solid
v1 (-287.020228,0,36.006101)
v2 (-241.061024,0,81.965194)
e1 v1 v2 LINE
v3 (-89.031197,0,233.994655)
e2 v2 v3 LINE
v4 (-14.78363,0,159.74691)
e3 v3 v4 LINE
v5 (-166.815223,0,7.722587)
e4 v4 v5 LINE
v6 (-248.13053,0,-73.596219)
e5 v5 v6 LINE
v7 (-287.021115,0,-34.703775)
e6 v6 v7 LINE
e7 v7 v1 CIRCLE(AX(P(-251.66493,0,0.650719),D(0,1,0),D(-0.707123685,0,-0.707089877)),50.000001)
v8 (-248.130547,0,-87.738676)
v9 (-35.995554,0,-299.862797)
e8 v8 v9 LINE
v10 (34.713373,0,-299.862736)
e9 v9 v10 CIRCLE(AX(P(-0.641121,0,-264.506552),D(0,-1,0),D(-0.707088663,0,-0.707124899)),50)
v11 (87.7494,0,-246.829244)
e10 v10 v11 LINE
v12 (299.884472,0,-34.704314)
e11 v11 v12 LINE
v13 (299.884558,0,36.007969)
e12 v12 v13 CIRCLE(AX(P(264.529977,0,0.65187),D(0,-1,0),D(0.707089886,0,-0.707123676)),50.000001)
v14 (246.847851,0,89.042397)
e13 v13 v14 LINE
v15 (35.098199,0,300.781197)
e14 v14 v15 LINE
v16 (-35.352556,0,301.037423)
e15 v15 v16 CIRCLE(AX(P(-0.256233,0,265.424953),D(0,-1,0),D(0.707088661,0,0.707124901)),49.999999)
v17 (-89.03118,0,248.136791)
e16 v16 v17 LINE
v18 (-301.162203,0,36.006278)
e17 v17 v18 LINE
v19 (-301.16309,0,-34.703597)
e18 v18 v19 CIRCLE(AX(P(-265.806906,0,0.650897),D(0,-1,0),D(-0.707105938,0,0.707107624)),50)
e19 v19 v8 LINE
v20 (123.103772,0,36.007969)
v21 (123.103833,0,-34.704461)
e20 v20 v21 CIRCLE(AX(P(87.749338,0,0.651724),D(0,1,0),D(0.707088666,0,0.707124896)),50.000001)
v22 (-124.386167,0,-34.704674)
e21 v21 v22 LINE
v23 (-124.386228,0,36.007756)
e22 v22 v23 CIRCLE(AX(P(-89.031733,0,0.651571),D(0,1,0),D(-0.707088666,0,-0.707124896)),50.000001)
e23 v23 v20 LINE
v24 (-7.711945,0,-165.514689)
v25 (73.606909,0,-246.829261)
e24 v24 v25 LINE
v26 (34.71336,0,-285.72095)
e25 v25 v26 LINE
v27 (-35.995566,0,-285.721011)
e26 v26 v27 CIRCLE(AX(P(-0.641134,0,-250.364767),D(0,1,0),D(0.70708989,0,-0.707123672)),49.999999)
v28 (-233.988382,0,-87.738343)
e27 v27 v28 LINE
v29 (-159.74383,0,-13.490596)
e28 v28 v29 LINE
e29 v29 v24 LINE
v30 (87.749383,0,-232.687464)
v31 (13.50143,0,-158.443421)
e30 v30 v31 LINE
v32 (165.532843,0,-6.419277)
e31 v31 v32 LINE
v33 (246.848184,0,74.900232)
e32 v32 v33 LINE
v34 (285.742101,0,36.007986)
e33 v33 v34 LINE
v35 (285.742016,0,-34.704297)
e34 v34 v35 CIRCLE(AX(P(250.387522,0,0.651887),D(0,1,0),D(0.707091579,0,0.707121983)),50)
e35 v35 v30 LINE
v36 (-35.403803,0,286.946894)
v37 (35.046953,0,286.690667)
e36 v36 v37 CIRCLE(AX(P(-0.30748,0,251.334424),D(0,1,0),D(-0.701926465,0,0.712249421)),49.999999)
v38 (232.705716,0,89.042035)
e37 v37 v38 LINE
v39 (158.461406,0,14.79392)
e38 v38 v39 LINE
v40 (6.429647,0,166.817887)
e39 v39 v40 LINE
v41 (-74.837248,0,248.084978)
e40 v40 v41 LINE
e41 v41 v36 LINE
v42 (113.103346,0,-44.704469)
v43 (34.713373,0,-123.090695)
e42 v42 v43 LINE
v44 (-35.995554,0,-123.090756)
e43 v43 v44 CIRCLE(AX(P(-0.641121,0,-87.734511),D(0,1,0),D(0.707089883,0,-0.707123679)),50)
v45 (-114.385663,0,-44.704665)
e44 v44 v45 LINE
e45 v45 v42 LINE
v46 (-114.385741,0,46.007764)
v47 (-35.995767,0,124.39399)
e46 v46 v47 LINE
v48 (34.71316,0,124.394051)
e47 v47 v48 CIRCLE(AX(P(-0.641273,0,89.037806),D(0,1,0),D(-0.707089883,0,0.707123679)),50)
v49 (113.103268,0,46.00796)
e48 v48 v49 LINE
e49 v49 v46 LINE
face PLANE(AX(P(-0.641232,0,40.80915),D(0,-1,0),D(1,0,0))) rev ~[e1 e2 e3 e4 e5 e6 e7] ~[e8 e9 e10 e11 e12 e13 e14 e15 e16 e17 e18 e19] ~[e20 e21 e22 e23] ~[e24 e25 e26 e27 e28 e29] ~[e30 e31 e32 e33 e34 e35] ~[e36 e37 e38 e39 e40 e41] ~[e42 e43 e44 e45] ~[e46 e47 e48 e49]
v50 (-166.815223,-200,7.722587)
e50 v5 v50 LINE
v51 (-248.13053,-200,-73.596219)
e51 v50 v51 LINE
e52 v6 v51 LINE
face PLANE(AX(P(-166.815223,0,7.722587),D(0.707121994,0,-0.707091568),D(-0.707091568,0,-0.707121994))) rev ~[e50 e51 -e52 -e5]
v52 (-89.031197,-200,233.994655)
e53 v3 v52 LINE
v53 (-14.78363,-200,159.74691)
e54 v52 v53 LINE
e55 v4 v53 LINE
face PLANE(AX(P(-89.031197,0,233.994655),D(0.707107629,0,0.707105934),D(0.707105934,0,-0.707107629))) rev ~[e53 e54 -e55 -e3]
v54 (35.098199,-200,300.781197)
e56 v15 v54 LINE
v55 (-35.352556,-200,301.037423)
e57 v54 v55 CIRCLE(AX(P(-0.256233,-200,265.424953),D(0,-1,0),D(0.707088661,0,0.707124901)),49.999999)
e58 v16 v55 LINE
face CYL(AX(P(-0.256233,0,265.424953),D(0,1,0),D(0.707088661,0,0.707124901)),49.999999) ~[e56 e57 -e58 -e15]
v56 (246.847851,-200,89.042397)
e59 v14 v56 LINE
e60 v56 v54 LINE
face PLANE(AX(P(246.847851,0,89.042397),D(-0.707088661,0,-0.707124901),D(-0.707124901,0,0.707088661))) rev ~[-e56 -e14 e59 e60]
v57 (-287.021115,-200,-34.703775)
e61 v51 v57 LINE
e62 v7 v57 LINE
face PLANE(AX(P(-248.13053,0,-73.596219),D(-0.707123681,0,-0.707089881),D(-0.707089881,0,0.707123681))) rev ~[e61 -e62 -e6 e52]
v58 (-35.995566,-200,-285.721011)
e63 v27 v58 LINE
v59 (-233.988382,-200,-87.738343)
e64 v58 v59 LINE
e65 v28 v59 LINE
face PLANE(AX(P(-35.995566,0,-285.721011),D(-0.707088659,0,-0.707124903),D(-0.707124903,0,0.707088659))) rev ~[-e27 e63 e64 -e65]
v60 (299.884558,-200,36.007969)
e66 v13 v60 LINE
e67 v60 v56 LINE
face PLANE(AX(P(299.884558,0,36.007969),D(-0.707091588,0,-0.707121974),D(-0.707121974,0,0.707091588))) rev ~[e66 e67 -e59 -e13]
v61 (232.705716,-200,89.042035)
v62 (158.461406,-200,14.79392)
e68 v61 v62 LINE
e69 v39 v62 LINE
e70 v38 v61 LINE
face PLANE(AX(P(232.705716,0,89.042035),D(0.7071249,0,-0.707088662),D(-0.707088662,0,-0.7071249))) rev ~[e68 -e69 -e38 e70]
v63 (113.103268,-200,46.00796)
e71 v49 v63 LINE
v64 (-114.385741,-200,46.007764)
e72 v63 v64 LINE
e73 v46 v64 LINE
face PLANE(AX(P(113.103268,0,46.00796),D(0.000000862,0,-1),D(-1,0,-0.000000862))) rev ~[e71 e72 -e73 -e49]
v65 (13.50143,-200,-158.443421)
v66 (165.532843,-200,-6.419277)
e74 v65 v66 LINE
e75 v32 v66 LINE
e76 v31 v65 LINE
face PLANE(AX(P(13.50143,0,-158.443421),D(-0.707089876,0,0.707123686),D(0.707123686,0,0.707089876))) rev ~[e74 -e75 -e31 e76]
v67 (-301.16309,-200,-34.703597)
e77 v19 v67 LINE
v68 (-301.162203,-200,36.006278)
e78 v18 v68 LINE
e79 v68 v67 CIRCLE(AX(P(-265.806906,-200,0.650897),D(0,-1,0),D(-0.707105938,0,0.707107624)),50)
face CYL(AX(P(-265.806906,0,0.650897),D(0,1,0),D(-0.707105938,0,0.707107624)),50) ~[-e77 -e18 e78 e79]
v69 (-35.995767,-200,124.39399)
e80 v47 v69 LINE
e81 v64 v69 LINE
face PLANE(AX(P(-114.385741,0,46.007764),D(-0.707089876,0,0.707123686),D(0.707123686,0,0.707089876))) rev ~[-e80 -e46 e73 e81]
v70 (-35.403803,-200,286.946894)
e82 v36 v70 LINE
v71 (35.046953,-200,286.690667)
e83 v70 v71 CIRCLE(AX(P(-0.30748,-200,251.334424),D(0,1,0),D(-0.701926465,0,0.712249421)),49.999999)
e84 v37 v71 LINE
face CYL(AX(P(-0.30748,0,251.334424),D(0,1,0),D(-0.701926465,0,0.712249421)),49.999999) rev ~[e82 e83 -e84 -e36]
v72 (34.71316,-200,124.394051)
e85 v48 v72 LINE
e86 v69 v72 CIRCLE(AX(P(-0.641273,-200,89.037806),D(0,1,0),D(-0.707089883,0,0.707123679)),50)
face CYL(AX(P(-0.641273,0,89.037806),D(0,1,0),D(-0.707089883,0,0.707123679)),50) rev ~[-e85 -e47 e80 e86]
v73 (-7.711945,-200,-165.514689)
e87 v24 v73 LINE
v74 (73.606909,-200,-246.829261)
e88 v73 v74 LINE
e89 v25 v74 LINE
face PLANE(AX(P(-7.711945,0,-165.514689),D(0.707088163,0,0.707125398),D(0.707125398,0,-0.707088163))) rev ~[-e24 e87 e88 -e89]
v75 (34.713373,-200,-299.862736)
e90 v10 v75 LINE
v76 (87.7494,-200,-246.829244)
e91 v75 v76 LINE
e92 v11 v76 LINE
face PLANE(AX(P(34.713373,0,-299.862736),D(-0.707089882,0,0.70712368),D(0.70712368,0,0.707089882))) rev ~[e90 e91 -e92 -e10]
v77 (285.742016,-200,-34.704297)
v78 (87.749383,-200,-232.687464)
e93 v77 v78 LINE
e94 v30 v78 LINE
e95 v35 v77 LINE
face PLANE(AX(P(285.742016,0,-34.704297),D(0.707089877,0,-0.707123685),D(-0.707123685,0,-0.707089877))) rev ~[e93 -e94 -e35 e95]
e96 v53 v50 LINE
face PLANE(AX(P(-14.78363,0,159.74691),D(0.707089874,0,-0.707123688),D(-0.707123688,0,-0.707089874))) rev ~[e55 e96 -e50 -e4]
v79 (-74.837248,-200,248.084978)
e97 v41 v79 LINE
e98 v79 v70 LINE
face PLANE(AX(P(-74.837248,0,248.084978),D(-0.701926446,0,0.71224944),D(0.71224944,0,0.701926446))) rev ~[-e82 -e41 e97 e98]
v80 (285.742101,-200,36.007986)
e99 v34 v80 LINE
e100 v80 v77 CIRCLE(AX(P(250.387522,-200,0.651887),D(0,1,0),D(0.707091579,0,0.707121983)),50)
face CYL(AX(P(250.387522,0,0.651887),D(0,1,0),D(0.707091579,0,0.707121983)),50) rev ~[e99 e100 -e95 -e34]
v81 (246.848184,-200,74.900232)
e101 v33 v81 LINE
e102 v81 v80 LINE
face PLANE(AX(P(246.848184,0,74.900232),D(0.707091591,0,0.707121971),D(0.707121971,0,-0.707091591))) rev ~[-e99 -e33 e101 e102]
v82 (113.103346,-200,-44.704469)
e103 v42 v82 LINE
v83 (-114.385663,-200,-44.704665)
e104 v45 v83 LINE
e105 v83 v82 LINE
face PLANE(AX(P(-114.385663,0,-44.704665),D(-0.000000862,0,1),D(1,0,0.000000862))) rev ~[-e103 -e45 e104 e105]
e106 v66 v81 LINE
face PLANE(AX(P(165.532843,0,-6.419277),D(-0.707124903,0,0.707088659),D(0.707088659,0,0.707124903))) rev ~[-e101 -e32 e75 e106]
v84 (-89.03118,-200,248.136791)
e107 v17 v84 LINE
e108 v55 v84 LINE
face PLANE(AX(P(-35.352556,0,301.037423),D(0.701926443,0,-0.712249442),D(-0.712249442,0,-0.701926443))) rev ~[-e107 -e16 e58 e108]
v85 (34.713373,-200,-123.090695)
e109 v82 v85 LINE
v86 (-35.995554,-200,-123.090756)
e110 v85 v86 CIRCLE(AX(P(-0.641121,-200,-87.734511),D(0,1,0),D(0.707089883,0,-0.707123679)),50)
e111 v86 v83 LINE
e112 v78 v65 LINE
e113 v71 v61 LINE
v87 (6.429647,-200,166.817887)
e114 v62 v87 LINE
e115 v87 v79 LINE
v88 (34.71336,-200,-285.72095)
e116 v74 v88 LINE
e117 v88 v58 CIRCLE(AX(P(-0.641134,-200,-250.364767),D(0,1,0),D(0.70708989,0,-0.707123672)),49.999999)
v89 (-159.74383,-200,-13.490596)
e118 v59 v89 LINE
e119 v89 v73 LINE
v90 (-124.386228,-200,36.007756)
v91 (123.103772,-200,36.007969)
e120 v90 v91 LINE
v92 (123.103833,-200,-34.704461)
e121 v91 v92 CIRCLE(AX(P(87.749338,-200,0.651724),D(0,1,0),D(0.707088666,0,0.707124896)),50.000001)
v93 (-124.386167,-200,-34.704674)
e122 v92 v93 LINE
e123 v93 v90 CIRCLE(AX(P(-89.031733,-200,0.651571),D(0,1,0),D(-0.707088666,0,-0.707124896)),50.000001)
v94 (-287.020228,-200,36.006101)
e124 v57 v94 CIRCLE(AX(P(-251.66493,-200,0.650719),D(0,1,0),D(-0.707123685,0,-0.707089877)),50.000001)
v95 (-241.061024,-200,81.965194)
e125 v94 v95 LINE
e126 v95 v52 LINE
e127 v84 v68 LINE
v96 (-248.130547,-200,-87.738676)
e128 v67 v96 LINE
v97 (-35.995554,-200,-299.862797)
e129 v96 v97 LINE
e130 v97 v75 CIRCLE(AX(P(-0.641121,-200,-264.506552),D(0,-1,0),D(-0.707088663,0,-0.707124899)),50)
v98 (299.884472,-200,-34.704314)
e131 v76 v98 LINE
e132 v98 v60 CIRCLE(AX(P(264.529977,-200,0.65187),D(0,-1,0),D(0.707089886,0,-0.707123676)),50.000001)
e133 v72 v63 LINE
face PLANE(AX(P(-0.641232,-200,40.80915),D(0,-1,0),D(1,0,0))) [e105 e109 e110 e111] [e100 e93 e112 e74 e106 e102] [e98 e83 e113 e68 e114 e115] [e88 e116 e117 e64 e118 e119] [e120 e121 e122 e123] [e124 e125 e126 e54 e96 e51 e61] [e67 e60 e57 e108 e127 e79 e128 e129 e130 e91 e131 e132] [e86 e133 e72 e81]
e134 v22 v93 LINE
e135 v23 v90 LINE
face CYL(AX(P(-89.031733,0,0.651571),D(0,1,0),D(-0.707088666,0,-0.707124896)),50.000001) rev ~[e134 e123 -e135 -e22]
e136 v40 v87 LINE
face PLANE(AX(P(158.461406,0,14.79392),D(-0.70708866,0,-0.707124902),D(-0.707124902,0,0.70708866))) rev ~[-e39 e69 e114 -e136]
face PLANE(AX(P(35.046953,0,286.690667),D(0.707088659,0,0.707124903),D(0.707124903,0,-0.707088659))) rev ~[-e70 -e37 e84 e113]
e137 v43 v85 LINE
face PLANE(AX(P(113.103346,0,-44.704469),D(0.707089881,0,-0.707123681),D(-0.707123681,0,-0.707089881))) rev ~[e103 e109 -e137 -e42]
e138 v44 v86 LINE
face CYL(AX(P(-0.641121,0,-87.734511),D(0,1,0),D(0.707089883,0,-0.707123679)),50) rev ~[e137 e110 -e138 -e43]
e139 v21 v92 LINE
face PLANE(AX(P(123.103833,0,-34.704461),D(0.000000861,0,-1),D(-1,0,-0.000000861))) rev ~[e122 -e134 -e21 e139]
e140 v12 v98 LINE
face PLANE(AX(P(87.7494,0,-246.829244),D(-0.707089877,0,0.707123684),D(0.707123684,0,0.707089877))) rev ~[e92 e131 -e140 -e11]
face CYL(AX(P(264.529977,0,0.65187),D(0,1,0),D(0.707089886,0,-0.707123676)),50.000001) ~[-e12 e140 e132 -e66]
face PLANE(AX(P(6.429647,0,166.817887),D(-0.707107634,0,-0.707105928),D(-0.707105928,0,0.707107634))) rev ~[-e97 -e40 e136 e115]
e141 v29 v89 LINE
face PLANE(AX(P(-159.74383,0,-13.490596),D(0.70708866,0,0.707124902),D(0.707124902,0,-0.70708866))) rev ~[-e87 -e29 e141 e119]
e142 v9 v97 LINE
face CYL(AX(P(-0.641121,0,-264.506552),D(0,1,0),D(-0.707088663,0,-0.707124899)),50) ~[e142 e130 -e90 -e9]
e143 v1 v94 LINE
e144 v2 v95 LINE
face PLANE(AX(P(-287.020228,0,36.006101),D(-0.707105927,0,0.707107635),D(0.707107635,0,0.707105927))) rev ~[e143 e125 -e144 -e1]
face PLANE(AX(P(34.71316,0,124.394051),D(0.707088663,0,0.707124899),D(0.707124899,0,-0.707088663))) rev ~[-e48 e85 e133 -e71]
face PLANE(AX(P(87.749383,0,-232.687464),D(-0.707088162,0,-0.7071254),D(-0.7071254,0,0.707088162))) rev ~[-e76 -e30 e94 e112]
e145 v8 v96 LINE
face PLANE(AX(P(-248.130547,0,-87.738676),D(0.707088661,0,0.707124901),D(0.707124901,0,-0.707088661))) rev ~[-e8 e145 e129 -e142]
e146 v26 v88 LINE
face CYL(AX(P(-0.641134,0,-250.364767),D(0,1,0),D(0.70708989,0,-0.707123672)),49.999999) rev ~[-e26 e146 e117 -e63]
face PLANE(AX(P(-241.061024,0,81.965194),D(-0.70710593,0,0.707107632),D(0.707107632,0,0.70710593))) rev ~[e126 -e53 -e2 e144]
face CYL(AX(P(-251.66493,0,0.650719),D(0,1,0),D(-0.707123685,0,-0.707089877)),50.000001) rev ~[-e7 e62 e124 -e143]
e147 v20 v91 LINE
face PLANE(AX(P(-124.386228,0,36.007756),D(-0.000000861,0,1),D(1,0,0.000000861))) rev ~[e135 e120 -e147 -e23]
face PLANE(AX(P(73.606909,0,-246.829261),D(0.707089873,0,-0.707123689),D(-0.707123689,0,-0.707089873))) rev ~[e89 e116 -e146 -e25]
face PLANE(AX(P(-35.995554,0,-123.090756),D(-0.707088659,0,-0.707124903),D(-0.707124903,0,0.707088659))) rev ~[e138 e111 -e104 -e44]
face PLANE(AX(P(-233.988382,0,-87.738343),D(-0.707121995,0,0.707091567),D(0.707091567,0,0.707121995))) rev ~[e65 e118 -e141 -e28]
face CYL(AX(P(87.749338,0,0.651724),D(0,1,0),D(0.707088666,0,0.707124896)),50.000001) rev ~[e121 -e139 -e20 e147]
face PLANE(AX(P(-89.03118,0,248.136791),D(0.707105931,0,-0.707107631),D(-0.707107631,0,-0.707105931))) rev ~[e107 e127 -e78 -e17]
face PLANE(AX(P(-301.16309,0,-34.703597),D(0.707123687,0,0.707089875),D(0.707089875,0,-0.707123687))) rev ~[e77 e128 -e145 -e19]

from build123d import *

# Parameters (mm, degrees)
F1_DEPTH = 200
F2_DEPTH = 200


with BuildPart() as f1:
    # F0 (on Front) → F1 (new body)
    with BuildSketch(Plane.XZ):
        with BuildLine():
            Line((299.884558, 36.007969), (246.847851, 89.042397))
            Line((246.847851, 89.042397), (35.098199, 300.781197))
            ThreePointArc((35.098199, 300.781197), (-0.074387, 315.424621), (-35.352556, 301.037423))
            Line((-35.352556, 301.037423), (-89.03118, 248.136791))
            Line((-89.03118, 248.136791), (-301.162203, 36.006278))
            ThreePointArc((-301.162203, 36.006278), (-315.806906, 0.651524), (-301.16309, -34.703597))
            Line((-301.16309, -34.703597), (-248.130547, -87.738676))
            Line((-248.130547, -87.738676), (-35.995554, -299.862797))
            ThreePointArc((-35.995554, -299.862797), (-0.641078, -314.506552), (34.713373, -299.862736))
            Line((34.713373, -299.862736), (87.7494, -246.829244))
            Line((87.7494, -246.829244), (299.884472, -34.704314))
            ThreePointArc((299.884472, -34.704314), (314.529978, 0.651809), (299.884558, 36.007969))
        make_face()
        with BuildLine():
            Line((73.606909, -246.829261), (34.71336, -285.72095))
            ThreePointArc((34.71336, -285.72095), (-0.64109, -300.364766), (-35.995566, -285.721011))
            Line((-35.995566, -285.721011), (-233.988382, -87.738343))
            Line((-233.988382, -87.738343), (-159.74383, -13.490596))
            Line((-159.74383, -13.490596), (-7.711945, -165.514689))
            Line((-7.711945, -165.514689), (73.606909, -246.829261))
        make_face(mode=Mode.SUBTRACT)
        with BuildLine():
            Line((246.848184, 74.900232), (285.742101, 36.007986))
            ThreePointArc((285.742101, 36.007986), (300.387522, 0.651827), (285.742016, -34.704297))
            Line((285.742016, -34.704297), (87.749383, -232.687464))
            Line((87.749383, -232.687464), (13.50143, -158.443421))
            Line((13.50143, -158.443421), (165.532843, -6.419277))
            Line((165.532843, -6.419277), (246.848184, 74.900232))
        make_face(mode=Mode.SUBTRACT)
        with BuildLine():
            Line((-166.815223, 7.722587), (-248.13053, -73.596219))
            Line((-248.13053, -73.596219), (-287.021115, -34.703775))
            ThreePointArc((-287.021115, -34.703775), (-301.664931, 0.651347), (-287.020228, 36.006101))
            Line((-287.020228, 36.006101), (-241.061024, 81.965194))
            Line((-241.061024, 81.965194), (-89.031197, 233.994655))
            Line((-89.031197, 233.994655), (-14.78363, 159.74691))
            Line((-14.78363, 159.74691), (-166.815223, 7.722587))
        make_face(mode=Mode.SUBTRACT)
        with BuildLine():
            Line((113.103268, 46.00796), (123.103772, 36.007969))
            ThreePointArc((123.103772, 36.007969), (137.749339, 0.651767), (123.103833, -34.704461))
            Line((123.103833, -34.704461), (113.103346, -44.704469))
            Line((113.103346, -44.704469), (34.713373, -123.090695))
            ThreePointArc((34.713373, -123.090695), (-0.641078, -137.734511), (-35.995554, -123.090756))
            Line((-35.995554, -123.090756), (-114.385663, -44.704665))
            Line((-114.385663, -44.704665), (-124.386167, -34.704674))
            ThreePointArc((-124.386167, -34.704674), (-139.031734, 0.651528), (-124.386228, 36.007756))
            Line((-124.386228, 36.007756), (-114.385741, 46.007764))
            Line((-114.385741, 46.007764), (-35.995767, 124.39399))
            ThreePointArc((-35.995767, 124.39399), (-0.641316, 139.037806), (34.71316, 124.394051))
            Line((34.71316, 124.394051), (113.103268, 46.00796))
        make_face(mode=Mode.SUBTRACT)
        with BuildLine():
            Line((-74.837248, 248.084978), (-35.403803, 286.946894))
            ThreePointArc((-35.403803, 286.946894), (-0.125633, 301.334092), (35.046953, 286.690667))
            Line((35.046953, 286.690667), (232.705716, 89.042035))
            Line((232.705716, 89.042035), (158.461406, 14.79392))
            Line((158.461406, 14.79392), (6.429647, 166.817887))
            Line((6.429647, 166.817887), (-74.837248, 248.084978))
        make_face(mode=Mode.SUBTRACT)
    extrude(amount=F1_DEPTH)

    # F0 (on Front) → F2 (join)
    with BuildSketch(Plane.XZ):
        Polygon((-124.386228, 36.007756), (123.103772, 36.007969), (113.103268, 46.00796), (-114.385741, 46.007764), align=None)
        Polygon((113.103346, -44.704469), (123.103833, -34.704461), (-124.386167, -34.704674), (-114.385663, -44.704665), align=None)
    extrude(amount=F2_DEPTH)


solid = f1.part
